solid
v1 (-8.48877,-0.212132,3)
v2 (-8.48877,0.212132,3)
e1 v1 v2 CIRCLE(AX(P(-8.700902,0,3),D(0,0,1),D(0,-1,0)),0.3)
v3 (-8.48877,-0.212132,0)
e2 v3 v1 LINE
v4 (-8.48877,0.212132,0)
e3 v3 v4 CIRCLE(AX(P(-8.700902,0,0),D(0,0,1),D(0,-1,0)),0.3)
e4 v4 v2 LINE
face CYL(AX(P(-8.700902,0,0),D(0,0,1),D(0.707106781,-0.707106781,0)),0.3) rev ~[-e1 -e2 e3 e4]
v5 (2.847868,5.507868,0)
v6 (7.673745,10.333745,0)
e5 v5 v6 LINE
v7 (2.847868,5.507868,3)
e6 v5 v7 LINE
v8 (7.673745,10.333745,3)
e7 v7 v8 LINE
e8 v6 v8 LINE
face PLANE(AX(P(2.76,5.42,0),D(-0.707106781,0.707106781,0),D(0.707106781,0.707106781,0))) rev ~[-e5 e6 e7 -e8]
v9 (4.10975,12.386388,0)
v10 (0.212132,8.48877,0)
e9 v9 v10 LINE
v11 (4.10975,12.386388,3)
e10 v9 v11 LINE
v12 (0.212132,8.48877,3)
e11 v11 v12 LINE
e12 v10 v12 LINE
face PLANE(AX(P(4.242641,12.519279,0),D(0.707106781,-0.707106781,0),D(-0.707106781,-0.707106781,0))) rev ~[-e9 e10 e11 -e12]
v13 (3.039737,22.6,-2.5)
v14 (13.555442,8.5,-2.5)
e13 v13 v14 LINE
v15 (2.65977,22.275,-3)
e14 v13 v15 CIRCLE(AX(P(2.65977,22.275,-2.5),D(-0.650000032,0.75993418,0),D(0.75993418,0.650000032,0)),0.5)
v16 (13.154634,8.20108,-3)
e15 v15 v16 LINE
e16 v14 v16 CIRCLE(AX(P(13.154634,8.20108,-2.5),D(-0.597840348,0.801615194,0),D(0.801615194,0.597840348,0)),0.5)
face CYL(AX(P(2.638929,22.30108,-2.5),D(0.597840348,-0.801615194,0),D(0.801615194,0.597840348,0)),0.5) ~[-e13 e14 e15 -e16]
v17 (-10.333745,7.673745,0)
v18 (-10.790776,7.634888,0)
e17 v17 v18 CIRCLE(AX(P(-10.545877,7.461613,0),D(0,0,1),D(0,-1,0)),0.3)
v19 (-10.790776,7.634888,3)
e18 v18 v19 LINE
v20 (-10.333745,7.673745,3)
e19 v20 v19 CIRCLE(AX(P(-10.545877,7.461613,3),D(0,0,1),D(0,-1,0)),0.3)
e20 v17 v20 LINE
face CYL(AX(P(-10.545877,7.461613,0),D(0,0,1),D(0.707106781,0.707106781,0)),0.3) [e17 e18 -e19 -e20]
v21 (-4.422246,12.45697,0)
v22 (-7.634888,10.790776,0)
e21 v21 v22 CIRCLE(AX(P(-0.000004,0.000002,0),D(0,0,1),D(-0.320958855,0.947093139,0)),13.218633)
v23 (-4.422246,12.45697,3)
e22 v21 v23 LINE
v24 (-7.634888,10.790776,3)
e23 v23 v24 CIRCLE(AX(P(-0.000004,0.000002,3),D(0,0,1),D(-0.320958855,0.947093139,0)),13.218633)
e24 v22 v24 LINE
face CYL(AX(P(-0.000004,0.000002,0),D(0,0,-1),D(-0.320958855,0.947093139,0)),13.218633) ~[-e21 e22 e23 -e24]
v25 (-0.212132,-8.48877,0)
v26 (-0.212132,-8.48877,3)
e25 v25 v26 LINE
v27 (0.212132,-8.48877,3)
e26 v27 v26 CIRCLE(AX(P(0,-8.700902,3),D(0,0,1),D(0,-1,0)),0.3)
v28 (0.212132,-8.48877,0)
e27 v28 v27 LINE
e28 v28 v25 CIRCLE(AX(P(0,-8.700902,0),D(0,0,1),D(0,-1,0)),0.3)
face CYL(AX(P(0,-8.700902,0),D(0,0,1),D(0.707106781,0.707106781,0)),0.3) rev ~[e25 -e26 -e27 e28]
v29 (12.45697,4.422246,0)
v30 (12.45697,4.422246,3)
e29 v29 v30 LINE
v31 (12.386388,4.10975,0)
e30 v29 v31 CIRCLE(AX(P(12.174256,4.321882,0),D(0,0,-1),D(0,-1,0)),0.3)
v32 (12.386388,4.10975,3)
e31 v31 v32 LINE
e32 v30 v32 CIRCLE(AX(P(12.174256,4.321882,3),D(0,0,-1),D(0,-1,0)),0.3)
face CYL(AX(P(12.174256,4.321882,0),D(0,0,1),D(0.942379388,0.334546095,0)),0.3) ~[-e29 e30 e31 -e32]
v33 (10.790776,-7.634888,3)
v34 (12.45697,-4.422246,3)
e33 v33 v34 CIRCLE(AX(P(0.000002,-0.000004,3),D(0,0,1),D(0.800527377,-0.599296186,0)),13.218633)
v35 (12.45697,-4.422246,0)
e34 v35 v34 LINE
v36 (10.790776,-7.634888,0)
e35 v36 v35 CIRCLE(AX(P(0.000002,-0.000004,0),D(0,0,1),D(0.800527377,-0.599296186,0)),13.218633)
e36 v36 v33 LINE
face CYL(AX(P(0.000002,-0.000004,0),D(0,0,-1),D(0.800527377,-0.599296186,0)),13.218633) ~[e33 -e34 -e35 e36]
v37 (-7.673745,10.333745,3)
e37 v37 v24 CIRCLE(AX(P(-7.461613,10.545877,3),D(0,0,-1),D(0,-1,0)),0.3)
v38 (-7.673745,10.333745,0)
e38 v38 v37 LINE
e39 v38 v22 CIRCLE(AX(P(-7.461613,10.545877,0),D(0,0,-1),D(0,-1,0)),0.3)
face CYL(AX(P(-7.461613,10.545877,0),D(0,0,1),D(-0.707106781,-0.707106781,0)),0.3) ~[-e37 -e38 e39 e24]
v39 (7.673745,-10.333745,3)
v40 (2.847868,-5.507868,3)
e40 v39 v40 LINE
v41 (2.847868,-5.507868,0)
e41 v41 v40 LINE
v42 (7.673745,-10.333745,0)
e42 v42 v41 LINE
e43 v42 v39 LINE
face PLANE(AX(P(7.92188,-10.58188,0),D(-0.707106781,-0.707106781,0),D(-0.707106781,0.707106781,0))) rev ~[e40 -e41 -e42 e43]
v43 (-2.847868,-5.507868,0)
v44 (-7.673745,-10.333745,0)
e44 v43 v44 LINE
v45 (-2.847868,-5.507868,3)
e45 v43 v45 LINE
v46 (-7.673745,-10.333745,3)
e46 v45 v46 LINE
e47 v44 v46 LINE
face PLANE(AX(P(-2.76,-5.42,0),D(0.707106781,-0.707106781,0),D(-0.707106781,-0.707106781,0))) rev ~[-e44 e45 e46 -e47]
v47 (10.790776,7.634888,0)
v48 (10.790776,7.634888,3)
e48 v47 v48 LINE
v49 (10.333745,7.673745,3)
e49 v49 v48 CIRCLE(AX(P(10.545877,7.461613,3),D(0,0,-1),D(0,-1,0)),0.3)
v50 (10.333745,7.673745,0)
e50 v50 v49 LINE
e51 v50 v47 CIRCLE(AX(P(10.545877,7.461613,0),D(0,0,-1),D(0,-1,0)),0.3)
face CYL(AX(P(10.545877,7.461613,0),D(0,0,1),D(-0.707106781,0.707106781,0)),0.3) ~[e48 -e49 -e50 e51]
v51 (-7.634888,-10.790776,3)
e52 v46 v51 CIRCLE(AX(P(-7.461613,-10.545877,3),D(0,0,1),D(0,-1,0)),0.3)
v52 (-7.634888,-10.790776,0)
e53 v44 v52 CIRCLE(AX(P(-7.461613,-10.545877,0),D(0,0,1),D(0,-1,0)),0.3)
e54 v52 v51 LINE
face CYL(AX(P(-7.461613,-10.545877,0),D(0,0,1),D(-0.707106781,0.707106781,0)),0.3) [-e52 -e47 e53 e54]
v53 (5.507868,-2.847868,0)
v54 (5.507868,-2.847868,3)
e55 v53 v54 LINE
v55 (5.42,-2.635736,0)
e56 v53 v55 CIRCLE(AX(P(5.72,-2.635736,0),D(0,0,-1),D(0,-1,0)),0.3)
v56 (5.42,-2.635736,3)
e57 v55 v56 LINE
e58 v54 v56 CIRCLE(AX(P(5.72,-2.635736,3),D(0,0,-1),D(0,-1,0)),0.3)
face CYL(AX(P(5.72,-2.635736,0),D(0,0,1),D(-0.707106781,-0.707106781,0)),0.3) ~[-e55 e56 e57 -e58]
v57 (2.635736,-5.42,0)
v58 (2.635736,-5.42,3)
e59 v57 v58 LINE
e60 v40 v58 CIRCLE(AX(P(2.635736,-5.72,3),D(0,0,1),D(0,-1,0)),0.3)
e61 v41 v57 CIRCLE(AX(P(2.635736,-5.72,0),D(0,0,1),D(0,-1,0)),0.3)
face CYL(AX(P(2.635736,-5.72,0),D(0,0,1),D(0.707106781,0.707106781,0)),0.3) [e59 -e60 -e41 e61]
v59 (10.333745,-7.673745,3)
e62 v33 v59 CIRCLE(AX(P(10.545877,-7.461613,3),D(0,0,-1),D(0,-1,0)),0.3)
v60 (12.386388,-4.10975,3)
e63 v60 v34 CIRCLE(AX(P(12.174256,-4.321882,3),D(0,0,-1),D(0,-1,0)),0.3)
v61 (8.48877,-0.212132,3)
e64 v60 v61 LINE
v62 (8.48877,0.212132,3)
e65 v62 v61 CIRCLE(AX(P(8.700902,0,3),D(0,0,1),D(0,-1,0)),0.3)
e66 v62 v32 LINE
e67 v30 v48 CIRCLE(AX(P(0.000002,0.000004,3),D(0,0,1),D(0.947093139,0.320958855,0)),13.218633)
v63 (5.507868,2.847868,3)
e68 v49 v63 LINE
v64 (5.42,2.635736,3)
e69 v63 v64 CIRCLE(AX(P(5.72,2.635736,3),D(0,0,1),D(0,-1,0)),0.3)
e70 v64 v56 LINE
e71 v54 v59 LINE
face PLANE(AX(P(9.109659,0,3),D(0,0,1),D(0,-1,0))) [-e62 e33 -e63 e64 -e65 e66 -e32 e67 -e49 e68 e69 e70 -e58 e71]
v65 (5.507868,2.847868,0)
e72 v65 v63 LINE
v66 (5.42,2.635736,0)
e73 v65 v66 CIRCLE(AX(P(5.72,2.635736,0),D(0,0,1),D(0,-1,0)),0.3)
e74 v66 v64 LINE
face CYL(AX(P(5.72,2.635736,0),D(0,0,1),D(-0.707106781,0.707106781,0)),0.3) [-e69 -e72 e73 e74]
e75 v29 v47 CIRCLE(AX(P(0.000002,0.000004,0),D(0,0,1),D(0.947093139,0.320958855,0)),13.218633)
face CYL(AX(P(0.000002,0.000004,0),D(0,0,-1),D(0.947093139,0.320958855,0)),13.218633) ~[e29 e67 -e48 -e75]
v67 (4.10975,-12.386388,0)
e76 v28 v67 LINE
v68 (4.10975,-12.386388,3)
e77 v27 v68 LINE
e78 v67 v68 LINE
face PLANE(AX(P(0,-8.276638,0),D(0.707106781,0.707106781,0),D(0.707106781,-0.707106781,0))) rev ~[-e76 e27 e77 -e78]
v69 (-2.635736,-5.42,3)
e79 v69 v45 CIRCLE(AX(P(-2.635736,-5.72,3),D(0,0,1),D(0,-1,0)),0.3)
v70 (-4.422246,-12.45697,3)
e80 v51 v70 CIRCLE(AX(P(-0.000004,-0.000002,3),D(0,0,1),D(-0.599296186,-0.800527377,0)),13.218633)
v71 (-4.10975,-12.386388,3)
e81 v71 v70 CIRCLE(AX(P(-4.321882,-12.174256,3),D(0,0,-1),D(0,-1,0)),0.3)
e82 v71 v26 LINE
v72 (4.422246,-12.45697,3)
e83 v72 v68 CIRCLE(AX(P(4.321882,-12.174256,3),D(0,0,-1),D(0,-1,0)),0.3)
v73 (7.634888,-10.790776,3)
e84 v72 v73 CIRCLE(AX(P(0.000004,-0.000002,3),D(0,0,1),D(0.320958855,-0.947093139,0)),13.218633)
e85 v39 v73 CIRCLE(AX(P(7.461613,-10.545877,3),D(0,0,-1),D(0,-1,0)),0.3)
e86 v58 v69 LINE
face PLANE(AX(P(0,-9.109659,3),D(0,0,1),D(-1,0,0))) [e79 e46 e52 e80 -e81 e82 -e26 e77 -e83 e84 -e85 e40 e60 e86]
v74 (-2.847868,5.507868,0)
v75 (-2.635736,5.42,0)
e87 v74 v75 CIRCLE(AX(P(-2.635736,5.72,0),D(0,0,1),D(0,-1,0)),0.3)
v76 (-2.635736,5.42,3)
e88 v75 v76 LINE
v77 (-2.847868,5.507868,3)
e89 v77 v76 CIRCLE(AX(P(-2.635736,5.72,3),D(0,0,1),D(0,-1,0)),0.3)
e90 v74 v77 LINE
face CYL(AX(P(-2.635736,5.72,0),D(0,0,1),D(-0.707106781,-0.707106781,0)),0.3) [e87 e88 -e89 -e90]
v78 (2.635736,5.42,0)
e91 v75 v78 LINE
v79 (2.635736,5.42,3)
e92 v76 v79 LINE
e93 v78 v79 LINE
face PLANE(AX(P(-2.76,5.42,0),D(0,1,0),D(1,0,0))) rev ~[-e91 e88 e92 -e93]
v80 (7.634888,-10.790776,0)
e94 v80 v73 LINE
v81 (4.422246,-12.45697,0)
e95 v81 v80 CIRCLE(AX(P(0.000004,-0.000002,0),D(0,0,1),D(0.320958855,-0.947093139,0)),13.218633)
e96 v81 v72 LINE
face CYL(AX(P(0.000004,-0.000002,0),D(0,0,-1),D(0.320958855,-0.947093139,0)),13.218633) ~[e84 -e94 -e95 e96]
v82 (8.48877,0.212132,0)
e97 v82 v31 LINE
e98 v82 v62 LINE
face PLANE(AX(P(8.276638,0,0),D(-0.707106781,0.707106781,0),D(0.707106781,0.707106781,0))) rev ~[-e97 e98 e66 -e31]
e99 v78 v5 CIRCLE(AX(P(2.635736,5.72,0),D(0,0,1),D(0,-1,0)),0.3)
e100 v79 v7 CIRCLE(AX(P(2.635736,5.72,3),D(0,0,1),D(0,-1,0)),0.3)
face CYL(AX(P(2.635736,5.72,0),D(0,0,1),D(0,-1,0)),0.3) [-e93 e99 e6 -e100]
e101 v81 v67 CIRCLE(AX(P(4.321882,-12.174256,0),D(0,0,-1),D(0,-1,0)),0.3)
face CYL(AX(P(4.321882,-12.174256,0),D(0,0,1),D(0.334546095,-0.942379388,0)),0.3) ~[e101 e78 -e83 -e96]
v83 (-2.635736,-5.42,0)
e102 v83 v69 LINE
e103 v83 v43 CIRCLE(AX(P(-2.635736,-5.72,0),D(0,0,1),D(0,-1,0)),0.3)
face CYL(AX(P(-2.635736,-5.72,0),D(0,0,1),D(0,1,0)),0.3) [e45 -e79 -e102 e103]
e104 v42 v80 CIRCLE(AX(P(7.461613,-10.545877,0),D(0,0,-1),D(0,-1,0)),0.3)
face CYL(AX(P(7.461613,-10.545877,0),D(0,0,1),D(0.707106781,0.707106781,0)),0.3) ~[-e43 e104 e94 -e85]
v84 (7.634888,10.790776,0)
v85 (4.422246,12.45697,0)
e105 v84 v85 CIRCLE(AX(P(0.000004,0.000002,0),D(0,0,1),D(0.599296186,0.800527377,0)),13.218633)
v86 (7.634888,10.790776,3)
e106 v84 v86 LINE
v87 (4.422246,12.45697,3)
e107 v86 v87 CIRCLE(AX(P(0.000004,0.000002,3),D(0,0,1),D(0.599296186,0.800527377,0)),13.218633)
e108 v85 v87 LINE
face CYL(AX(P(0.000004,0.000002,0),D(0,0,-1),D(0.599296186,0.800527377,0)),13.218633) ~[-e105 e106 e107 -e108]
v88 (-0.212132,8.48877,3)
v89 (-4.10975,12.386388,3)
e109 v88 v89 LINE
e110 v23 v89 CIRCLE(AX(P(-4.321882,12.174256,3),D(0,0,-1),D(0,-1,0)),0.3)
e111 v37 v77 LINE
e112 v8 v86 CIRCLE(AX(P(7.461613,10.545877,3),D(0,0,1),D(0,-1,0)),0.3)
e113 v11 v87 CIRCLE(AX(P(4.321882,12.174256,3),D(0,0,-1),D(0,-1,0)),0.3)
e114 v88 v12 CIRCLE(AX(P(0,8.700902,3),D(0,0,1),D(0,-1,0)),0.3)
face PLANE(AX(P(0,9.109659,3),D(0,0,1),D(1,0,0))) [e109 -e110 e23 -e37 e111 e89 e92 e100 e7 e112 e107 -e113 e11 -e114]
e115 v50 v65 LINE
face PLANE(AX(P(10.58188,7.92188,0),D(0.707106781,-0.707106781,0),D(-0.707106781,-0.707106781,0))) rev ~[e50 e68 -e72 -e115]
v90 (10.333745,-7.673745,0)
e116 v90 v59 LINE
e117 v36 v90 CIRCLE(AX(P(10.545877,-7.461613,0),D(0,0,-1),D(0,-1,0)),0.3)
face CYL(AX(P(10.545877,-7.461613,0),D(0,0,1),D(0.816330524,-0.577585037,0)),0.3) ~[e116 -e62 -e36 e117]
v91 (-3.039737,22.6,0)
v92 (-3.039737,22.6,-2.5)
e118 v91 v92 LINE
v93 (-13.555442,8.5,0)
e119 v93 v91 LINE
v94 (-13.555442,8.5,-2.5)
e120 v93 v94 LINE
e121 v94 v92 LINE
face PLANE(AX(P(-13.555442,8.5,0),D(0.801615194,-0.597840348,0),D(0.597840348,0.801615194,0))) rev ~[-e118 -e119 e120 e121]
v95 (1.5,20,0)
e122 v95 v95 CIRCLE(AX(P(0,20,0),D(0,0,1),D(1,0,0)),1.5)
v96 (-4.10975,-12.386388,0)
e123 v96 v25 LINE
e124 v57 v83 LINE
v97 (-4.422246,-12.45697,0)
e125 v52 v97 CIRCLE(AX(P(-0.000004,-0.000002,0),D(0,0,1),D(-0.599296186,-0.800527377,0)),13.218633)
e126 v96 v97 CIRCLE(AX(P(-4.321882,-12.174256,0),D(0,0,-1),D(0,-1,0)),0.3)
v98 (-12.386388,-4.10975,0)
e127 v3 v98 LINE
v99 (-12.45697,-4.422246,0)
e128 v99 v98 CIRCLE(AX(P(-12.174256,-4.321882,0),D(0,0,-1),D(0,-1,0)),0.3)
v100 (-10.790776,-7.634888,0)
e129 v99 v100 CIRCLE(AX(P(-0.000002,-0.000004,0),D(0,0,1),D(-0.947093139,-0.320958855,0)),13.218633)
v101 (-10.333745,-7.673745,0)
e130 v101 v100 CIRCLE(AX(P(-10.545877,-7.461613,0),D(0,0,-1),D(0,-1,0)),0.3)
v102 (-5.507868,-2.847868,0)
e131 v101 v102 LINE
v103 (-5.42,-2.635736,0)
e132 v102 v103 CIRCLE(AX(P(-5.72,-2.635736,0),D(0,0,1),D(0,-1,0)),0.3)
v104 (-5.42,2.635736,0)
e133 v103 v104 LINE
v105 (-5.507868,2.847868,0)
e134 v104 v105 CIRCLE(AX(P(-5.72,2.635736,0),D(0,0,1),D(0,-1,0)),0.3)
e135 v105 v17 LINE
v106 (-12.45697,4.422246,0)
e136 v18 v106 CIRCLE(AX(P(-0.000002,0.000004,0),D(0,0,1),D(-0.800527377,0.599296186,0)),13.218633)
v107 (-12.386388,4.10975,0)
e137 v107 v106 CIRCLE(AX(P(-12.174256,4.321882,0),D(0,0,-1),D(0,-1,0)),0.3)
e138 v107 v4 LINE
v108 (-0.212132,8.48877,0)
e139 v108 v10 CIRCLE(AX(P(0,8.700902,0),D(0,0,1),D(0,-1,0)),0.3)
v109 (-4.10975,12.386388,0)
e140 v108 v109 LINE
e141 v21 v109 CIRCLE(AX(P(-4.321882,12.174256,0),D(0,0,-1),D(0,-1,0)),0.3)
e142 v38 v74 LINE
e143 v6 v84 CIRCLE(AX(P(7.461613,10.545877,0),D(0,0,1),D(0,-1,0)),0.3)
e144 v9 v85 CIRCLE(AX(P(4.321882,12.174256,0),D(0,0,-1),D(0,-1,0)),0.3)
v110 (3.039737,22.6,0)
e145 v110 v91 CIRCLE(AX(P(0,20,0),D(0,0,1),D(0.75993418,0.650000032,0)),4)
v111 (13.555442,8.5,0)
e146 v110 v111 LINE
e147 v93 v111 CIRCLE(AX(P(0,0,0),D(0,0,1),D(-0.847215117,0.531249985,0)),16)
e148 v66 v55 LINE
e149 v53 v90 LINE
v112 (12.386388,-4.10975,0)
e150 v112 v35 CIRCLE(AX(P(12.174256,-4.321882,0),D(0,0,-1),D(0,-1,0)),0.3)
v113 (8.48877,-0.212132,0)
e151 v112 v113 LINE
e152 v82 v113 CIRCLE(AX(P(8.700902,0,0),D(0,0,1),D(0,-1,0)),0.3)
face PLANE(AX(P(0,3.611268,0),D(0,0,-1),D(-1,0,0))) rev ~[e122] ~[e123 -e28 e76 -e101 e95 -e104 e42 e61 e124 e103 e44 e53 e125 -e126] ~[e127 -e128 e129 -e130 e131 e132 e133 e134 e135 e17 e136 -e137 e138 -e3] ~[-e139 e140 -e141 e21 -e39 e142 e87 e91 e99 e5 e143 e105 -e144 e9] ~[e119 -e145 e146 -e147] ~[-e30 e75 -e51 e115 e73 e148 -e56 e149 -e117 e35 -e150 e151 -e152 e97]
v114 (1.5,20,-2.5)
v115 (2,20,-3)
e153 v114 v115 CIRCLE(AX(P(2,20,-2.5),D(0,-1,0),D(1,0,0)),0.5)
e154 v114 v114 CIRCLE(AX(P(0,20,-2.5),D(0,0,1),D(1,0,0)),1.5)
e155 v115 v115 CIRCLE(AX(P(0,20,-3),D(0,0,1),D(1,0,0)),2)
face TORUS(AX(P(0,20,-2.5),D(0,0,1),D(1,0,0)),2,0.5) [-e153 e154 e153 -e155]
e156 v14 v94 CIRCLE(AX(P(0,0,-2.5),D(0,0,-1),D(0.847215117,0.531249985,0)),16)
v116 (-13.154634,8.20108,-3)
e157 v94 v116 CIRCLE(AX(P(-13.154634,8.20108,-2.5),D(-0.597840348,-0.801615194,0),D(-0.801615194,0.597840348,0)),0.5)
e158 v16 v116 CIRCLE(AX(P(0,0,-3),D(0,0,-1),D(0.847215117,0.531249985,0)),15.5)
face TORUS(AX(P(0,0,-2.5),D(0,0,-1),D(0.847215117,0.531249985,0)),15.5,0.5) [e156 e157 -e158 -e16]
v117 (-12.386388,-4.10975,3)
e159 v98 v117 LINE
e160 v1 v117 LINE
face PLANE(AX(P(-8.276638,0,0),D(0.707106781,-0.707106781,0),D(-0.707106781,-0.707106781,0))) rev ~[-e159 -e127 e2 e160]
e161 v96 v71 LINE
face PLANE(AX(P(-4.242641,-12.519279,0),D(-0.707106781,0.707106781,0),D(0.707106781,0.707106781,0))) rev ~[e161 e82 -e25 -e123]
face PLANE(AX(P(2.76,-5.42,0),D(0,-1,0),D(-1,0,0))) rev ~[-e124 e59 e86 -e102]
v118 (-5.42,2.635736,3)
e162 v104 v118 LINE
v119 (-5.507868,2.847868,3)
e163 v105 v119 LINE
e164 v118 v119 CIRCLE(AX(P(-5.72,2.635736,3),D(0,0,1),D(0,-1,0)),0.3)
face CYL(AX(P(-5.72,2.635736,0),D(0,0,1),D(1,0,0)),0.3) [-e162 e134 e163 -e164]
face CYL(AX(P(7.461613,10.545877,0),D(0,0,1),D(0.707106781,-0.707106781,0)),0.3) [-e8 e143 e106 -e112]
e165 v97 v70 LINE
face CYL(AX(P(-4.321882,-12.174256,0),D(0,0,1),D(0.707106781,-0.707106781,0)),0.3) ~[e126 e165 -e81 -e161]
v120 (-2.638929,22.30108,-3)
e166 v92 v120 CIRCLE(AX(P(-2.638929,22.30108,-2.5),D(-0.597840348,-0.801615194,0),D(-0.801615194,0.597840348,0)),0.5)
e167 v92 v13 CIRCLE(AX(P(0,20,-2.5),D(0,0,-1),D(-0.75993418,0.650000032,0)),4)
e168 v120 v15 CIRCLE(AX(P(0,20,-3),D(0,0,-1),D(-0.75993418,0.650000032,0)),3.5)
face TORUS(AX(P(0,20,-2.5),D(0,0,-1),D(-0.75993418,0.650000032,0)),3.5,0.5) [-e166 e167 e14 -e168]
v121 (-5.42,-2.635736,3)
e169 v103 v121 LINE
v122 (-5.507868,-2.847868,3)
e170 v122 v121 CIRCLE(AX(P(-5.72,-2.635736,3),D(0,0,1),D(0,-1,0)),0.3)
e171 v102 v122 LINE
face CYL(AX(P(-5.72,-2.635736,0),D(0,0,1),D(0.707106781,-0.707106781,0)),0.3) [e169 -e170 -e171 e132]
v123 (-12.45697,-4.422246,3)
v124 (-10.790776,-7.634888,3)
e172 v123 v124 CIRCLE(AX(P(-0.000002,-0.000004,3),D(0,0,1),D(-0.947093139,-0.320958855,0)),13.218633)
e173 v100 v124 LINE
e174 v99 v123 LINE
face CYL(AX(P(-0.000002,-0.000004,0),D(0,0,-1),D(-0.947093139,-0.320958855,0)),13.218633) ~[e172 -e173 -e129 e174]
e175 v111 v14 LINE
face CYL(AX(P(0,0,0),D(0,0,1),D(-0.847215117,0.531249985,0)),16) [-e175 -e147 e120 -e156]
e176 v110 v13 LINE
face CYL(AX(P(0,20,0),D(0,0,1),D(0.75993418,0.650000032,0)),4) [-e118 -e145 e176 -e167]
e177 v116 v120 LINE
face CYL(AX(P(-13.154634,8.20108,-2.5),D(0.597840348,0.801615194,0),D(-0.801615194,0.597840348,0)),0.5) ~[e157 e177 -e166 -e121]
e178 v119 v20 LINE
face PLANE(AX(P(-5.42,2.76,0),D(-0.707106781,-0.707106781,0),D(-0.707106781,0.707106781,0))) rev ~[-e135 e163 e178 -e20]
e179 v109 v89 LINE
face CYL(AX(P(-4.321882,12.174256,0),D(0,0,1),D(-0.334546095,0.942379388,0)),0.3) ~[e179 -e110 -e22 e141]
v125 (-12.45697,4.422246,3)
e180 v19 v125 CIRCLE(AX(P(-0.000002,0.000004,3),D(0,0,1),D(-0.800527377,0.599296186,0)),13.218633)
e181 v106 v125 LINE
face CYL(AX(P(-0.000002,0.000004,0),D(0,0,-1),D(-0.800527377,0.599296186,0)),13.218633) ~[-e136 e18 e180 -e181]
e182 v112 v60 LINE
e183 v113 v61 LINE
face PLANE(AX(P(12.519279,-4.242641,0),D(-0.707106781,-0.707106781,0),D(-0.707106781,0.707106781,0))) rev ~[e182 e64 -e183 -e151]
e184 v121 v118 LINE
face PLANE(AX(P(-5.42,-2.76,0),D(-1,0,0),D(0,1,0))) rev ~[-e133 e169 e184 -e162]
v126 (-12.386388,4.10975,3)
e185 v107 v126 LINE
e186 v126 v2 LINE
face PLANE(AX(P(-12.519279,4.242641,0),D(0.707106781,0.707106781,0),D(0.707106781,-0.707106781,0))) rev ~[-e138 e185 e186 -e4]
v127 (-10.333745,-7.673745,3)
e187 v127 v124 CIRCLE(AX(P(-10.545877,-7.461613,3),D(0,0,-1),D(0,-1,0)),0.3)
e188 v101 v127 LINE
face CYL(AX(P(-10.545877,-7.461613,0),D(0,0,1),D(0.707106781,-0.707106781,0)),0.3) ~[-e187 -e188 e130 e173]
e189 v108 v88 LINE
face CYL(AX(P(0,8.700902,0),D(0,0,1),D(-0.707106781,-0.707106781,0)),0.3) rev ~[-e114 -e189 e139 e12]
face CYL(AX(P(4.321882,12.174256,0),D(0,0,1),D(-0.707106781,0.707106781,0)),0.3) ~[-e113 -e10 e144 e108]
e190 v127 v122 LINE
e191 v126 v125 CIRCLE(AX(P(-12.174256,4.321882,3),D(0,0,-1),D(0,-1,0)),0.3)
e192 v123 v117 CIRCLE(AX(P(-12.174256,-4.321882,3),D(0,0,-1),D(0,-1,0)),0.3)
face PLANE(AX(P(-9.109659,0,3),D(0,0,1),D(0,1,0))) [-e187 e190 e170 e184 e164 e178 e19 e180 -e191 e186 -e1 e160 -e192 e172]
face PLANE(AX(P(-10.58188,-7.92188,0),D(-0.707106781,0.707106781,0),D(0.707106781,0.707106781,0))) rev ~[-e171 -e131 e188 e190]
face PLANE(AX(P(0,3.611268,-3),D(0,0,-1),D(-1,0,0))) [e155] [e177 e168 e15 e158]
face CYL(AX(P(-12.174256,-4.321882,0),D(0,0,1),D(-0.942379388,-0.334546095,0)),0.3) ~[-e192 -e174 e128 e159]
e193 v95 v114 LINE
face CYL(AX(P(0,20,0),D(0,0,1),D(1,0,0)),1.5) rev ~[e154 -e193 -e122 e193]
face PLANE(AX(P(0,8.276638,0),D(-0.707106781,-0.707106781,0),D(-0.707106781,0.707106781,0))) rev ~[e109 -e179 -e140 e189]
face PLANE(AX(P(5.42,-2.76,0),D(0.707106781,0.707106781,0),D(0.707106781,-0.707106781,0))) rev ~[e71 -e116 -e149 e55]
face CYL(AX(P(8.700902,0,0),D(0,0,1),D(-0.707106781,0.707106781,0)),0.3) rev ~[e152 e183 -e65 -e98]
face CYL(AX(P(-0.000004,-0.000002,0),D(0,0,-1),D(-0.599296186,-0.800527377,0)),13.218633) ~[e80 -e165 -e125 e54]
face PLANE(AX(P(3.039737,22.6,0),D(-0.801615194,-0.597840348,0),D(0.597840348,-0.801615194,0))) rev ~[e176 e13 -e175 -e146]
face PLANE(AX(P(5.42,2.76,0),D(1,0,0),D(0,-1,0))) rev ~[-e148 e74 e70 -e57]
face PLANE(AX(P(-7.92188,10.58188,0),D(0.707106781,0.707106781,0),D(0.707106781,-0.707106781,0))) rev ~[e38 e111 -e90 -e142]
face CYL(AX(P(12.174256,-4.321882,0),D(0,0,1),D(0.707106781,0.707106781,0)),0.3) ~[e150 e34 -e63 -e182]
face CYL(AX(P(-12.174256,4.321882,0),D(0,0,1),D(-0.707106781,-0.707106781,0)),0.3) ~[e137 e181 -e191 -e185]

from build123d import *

# Parameters (mm, degrees)
SKETCH_R           = 1.5
PAD_DEPTH          = 3
PAD001_DEPTH       = 3
POLARPATTERN_COUNT = 4
FILLET_R           = 0.3
FILLET001_R        = 0.5
FILLET002_R        = 0.3
FILLET003_R        = 0.3
FILLET004_R        = 0.3


with BuildPart() as part:
    # Sketch → Pad (new body)
    with BuildSketch(Plane.XY):
        with BuildLine():
            Line((-13.555442, 8.5), (-3.039737, 22.6))
            ThreePointArc((3.039737, 22.6), (0, 24), (-3.039737, 22.6))
            Line((3.039737, 22.6), (13.555442, 8.5))
            ThreePointArc((-13.555442, 8.5), (0, -16), (13.555442, 8.5))
        make_face()
        with Locations((0, 20)):
            Circle(SKETCH_R, mode=Mode.SUBTRACT)
    extrude(amount=-PAD_DEPTH)

    # Sketch001 (on Face6 of Pad) → Pad001 (join)
    with BuildSketch(Plane.XY):
        with BuildLine():
            Line((-2.76, 5.42), (2.76, 5.42))
            Line((2.76, 5.42), (7.92188, 10.58188))
            ThreePointArc((7.92188, 10.58188), (6.158918, 11.696157), (4.242641, 12.519279))
            Line((4.242641, 12.519279), (0, 8.276638))
            Line((0, 8.276638), (-4.242641, 12.519279))
            ThreePointArc((-4.242641, 12.519279), (-6.158918, 11.696157), (-7.92188, 10.58188))
            Line((-7.92188, 10.58188), (-2.76, 5.42))
        make_face()
    pad001 = extrude(amount=PAD001_DEPTH)

    # PolarPattern: Pad001 ×4 about axis
    polarpattern_axis = Axis((0, 0, 0), (0, 0, 1))
    for i in range(1, POLARPATTERN_COUNT):
        add(pad001.rotate(polarpattern_axis, i * 360 / POLARPATTERN_COUNT))

    # Fillet
    fillet_edges = [part.edges().sort_by_distance(p)[0] for p in [
        (-4.242641, 12.519279, 1.5),
        (0, 8.276638, 1.5),
        (4.242641, 12.519279, 1.5),
        (7.92188, 10.58188, 1.5),
        (2.76, 5.42, 1.5),
        (-2.76, 5.42, 1.5),
        (-7.92188, 10.58188, 1.5),
    ]]
    fillet(fillet_edges, radius=FILLET_R)

    # Fillet001
    fillet001_edges = [part.edges().sort_by_distance(p)[0] for p in [
        (-8.297589, 15.55, -3),
        (0, -16, -3),
        (8.297589, 15.55, -3),
        (0, 24, -3),
        (-1.5, 20, -3),
    ]]
    fillet(fillet001_edges, radius=FILLET001_R)

    # Fillet002
    fillet002_edges = [part.edges().sort_by_distance(p)[0] for p in [
        (-10.58188, 7.92188, 1.5),
        (-5.42, 2.76, 1.5),
        (-5.42, -2.76, 1.5),
        (-10.58188, -7.92188, 1.5),
        (-12.519279, -4.242641, 1.5),
        (-12.519279, 4.242641, 1.5),
        (-8.276638, 0, 1.5),
    ]]
    fillet(fillet002_edges, radius=FILLET002_R)

    # Fillet003
    fillet003_edges = [part.edges().sort_by_distance(p)[0] for p in [
        (-7.92188, -10.58188, 1.5),
        (-4.242641, -12.519279, 1.5),
        (4.242641, -12.519279, 1.5),
        (7.92188, -10.58188, 1.5),
        (0, -8.276638, 1.5),
        (-2.76, -5.42, 1.5),
        (2.76, -5.42, 1.5),
    ]]
    fillet(fillet003_edges, radius=FILLET003_R)

    # Fillet004
    fillet004_edges = [part.edges().sort_by_distance(p)[0] for p in [
        (10.58188, -7.92188, 1.5),
        (12.519279, -4.242641, 1.5),
        (12.519279, 4.242641, 1.5),
        (10.58188, 7.92188, 1.5),
        (8.276638, 0, 1.5),
        (5.42, -2.76, 1.5),
        (5.42, 2.76, 1.5),
    ]]
    fillet(fillet004_edges, radius=FILLET004_R)


solid = part.part
